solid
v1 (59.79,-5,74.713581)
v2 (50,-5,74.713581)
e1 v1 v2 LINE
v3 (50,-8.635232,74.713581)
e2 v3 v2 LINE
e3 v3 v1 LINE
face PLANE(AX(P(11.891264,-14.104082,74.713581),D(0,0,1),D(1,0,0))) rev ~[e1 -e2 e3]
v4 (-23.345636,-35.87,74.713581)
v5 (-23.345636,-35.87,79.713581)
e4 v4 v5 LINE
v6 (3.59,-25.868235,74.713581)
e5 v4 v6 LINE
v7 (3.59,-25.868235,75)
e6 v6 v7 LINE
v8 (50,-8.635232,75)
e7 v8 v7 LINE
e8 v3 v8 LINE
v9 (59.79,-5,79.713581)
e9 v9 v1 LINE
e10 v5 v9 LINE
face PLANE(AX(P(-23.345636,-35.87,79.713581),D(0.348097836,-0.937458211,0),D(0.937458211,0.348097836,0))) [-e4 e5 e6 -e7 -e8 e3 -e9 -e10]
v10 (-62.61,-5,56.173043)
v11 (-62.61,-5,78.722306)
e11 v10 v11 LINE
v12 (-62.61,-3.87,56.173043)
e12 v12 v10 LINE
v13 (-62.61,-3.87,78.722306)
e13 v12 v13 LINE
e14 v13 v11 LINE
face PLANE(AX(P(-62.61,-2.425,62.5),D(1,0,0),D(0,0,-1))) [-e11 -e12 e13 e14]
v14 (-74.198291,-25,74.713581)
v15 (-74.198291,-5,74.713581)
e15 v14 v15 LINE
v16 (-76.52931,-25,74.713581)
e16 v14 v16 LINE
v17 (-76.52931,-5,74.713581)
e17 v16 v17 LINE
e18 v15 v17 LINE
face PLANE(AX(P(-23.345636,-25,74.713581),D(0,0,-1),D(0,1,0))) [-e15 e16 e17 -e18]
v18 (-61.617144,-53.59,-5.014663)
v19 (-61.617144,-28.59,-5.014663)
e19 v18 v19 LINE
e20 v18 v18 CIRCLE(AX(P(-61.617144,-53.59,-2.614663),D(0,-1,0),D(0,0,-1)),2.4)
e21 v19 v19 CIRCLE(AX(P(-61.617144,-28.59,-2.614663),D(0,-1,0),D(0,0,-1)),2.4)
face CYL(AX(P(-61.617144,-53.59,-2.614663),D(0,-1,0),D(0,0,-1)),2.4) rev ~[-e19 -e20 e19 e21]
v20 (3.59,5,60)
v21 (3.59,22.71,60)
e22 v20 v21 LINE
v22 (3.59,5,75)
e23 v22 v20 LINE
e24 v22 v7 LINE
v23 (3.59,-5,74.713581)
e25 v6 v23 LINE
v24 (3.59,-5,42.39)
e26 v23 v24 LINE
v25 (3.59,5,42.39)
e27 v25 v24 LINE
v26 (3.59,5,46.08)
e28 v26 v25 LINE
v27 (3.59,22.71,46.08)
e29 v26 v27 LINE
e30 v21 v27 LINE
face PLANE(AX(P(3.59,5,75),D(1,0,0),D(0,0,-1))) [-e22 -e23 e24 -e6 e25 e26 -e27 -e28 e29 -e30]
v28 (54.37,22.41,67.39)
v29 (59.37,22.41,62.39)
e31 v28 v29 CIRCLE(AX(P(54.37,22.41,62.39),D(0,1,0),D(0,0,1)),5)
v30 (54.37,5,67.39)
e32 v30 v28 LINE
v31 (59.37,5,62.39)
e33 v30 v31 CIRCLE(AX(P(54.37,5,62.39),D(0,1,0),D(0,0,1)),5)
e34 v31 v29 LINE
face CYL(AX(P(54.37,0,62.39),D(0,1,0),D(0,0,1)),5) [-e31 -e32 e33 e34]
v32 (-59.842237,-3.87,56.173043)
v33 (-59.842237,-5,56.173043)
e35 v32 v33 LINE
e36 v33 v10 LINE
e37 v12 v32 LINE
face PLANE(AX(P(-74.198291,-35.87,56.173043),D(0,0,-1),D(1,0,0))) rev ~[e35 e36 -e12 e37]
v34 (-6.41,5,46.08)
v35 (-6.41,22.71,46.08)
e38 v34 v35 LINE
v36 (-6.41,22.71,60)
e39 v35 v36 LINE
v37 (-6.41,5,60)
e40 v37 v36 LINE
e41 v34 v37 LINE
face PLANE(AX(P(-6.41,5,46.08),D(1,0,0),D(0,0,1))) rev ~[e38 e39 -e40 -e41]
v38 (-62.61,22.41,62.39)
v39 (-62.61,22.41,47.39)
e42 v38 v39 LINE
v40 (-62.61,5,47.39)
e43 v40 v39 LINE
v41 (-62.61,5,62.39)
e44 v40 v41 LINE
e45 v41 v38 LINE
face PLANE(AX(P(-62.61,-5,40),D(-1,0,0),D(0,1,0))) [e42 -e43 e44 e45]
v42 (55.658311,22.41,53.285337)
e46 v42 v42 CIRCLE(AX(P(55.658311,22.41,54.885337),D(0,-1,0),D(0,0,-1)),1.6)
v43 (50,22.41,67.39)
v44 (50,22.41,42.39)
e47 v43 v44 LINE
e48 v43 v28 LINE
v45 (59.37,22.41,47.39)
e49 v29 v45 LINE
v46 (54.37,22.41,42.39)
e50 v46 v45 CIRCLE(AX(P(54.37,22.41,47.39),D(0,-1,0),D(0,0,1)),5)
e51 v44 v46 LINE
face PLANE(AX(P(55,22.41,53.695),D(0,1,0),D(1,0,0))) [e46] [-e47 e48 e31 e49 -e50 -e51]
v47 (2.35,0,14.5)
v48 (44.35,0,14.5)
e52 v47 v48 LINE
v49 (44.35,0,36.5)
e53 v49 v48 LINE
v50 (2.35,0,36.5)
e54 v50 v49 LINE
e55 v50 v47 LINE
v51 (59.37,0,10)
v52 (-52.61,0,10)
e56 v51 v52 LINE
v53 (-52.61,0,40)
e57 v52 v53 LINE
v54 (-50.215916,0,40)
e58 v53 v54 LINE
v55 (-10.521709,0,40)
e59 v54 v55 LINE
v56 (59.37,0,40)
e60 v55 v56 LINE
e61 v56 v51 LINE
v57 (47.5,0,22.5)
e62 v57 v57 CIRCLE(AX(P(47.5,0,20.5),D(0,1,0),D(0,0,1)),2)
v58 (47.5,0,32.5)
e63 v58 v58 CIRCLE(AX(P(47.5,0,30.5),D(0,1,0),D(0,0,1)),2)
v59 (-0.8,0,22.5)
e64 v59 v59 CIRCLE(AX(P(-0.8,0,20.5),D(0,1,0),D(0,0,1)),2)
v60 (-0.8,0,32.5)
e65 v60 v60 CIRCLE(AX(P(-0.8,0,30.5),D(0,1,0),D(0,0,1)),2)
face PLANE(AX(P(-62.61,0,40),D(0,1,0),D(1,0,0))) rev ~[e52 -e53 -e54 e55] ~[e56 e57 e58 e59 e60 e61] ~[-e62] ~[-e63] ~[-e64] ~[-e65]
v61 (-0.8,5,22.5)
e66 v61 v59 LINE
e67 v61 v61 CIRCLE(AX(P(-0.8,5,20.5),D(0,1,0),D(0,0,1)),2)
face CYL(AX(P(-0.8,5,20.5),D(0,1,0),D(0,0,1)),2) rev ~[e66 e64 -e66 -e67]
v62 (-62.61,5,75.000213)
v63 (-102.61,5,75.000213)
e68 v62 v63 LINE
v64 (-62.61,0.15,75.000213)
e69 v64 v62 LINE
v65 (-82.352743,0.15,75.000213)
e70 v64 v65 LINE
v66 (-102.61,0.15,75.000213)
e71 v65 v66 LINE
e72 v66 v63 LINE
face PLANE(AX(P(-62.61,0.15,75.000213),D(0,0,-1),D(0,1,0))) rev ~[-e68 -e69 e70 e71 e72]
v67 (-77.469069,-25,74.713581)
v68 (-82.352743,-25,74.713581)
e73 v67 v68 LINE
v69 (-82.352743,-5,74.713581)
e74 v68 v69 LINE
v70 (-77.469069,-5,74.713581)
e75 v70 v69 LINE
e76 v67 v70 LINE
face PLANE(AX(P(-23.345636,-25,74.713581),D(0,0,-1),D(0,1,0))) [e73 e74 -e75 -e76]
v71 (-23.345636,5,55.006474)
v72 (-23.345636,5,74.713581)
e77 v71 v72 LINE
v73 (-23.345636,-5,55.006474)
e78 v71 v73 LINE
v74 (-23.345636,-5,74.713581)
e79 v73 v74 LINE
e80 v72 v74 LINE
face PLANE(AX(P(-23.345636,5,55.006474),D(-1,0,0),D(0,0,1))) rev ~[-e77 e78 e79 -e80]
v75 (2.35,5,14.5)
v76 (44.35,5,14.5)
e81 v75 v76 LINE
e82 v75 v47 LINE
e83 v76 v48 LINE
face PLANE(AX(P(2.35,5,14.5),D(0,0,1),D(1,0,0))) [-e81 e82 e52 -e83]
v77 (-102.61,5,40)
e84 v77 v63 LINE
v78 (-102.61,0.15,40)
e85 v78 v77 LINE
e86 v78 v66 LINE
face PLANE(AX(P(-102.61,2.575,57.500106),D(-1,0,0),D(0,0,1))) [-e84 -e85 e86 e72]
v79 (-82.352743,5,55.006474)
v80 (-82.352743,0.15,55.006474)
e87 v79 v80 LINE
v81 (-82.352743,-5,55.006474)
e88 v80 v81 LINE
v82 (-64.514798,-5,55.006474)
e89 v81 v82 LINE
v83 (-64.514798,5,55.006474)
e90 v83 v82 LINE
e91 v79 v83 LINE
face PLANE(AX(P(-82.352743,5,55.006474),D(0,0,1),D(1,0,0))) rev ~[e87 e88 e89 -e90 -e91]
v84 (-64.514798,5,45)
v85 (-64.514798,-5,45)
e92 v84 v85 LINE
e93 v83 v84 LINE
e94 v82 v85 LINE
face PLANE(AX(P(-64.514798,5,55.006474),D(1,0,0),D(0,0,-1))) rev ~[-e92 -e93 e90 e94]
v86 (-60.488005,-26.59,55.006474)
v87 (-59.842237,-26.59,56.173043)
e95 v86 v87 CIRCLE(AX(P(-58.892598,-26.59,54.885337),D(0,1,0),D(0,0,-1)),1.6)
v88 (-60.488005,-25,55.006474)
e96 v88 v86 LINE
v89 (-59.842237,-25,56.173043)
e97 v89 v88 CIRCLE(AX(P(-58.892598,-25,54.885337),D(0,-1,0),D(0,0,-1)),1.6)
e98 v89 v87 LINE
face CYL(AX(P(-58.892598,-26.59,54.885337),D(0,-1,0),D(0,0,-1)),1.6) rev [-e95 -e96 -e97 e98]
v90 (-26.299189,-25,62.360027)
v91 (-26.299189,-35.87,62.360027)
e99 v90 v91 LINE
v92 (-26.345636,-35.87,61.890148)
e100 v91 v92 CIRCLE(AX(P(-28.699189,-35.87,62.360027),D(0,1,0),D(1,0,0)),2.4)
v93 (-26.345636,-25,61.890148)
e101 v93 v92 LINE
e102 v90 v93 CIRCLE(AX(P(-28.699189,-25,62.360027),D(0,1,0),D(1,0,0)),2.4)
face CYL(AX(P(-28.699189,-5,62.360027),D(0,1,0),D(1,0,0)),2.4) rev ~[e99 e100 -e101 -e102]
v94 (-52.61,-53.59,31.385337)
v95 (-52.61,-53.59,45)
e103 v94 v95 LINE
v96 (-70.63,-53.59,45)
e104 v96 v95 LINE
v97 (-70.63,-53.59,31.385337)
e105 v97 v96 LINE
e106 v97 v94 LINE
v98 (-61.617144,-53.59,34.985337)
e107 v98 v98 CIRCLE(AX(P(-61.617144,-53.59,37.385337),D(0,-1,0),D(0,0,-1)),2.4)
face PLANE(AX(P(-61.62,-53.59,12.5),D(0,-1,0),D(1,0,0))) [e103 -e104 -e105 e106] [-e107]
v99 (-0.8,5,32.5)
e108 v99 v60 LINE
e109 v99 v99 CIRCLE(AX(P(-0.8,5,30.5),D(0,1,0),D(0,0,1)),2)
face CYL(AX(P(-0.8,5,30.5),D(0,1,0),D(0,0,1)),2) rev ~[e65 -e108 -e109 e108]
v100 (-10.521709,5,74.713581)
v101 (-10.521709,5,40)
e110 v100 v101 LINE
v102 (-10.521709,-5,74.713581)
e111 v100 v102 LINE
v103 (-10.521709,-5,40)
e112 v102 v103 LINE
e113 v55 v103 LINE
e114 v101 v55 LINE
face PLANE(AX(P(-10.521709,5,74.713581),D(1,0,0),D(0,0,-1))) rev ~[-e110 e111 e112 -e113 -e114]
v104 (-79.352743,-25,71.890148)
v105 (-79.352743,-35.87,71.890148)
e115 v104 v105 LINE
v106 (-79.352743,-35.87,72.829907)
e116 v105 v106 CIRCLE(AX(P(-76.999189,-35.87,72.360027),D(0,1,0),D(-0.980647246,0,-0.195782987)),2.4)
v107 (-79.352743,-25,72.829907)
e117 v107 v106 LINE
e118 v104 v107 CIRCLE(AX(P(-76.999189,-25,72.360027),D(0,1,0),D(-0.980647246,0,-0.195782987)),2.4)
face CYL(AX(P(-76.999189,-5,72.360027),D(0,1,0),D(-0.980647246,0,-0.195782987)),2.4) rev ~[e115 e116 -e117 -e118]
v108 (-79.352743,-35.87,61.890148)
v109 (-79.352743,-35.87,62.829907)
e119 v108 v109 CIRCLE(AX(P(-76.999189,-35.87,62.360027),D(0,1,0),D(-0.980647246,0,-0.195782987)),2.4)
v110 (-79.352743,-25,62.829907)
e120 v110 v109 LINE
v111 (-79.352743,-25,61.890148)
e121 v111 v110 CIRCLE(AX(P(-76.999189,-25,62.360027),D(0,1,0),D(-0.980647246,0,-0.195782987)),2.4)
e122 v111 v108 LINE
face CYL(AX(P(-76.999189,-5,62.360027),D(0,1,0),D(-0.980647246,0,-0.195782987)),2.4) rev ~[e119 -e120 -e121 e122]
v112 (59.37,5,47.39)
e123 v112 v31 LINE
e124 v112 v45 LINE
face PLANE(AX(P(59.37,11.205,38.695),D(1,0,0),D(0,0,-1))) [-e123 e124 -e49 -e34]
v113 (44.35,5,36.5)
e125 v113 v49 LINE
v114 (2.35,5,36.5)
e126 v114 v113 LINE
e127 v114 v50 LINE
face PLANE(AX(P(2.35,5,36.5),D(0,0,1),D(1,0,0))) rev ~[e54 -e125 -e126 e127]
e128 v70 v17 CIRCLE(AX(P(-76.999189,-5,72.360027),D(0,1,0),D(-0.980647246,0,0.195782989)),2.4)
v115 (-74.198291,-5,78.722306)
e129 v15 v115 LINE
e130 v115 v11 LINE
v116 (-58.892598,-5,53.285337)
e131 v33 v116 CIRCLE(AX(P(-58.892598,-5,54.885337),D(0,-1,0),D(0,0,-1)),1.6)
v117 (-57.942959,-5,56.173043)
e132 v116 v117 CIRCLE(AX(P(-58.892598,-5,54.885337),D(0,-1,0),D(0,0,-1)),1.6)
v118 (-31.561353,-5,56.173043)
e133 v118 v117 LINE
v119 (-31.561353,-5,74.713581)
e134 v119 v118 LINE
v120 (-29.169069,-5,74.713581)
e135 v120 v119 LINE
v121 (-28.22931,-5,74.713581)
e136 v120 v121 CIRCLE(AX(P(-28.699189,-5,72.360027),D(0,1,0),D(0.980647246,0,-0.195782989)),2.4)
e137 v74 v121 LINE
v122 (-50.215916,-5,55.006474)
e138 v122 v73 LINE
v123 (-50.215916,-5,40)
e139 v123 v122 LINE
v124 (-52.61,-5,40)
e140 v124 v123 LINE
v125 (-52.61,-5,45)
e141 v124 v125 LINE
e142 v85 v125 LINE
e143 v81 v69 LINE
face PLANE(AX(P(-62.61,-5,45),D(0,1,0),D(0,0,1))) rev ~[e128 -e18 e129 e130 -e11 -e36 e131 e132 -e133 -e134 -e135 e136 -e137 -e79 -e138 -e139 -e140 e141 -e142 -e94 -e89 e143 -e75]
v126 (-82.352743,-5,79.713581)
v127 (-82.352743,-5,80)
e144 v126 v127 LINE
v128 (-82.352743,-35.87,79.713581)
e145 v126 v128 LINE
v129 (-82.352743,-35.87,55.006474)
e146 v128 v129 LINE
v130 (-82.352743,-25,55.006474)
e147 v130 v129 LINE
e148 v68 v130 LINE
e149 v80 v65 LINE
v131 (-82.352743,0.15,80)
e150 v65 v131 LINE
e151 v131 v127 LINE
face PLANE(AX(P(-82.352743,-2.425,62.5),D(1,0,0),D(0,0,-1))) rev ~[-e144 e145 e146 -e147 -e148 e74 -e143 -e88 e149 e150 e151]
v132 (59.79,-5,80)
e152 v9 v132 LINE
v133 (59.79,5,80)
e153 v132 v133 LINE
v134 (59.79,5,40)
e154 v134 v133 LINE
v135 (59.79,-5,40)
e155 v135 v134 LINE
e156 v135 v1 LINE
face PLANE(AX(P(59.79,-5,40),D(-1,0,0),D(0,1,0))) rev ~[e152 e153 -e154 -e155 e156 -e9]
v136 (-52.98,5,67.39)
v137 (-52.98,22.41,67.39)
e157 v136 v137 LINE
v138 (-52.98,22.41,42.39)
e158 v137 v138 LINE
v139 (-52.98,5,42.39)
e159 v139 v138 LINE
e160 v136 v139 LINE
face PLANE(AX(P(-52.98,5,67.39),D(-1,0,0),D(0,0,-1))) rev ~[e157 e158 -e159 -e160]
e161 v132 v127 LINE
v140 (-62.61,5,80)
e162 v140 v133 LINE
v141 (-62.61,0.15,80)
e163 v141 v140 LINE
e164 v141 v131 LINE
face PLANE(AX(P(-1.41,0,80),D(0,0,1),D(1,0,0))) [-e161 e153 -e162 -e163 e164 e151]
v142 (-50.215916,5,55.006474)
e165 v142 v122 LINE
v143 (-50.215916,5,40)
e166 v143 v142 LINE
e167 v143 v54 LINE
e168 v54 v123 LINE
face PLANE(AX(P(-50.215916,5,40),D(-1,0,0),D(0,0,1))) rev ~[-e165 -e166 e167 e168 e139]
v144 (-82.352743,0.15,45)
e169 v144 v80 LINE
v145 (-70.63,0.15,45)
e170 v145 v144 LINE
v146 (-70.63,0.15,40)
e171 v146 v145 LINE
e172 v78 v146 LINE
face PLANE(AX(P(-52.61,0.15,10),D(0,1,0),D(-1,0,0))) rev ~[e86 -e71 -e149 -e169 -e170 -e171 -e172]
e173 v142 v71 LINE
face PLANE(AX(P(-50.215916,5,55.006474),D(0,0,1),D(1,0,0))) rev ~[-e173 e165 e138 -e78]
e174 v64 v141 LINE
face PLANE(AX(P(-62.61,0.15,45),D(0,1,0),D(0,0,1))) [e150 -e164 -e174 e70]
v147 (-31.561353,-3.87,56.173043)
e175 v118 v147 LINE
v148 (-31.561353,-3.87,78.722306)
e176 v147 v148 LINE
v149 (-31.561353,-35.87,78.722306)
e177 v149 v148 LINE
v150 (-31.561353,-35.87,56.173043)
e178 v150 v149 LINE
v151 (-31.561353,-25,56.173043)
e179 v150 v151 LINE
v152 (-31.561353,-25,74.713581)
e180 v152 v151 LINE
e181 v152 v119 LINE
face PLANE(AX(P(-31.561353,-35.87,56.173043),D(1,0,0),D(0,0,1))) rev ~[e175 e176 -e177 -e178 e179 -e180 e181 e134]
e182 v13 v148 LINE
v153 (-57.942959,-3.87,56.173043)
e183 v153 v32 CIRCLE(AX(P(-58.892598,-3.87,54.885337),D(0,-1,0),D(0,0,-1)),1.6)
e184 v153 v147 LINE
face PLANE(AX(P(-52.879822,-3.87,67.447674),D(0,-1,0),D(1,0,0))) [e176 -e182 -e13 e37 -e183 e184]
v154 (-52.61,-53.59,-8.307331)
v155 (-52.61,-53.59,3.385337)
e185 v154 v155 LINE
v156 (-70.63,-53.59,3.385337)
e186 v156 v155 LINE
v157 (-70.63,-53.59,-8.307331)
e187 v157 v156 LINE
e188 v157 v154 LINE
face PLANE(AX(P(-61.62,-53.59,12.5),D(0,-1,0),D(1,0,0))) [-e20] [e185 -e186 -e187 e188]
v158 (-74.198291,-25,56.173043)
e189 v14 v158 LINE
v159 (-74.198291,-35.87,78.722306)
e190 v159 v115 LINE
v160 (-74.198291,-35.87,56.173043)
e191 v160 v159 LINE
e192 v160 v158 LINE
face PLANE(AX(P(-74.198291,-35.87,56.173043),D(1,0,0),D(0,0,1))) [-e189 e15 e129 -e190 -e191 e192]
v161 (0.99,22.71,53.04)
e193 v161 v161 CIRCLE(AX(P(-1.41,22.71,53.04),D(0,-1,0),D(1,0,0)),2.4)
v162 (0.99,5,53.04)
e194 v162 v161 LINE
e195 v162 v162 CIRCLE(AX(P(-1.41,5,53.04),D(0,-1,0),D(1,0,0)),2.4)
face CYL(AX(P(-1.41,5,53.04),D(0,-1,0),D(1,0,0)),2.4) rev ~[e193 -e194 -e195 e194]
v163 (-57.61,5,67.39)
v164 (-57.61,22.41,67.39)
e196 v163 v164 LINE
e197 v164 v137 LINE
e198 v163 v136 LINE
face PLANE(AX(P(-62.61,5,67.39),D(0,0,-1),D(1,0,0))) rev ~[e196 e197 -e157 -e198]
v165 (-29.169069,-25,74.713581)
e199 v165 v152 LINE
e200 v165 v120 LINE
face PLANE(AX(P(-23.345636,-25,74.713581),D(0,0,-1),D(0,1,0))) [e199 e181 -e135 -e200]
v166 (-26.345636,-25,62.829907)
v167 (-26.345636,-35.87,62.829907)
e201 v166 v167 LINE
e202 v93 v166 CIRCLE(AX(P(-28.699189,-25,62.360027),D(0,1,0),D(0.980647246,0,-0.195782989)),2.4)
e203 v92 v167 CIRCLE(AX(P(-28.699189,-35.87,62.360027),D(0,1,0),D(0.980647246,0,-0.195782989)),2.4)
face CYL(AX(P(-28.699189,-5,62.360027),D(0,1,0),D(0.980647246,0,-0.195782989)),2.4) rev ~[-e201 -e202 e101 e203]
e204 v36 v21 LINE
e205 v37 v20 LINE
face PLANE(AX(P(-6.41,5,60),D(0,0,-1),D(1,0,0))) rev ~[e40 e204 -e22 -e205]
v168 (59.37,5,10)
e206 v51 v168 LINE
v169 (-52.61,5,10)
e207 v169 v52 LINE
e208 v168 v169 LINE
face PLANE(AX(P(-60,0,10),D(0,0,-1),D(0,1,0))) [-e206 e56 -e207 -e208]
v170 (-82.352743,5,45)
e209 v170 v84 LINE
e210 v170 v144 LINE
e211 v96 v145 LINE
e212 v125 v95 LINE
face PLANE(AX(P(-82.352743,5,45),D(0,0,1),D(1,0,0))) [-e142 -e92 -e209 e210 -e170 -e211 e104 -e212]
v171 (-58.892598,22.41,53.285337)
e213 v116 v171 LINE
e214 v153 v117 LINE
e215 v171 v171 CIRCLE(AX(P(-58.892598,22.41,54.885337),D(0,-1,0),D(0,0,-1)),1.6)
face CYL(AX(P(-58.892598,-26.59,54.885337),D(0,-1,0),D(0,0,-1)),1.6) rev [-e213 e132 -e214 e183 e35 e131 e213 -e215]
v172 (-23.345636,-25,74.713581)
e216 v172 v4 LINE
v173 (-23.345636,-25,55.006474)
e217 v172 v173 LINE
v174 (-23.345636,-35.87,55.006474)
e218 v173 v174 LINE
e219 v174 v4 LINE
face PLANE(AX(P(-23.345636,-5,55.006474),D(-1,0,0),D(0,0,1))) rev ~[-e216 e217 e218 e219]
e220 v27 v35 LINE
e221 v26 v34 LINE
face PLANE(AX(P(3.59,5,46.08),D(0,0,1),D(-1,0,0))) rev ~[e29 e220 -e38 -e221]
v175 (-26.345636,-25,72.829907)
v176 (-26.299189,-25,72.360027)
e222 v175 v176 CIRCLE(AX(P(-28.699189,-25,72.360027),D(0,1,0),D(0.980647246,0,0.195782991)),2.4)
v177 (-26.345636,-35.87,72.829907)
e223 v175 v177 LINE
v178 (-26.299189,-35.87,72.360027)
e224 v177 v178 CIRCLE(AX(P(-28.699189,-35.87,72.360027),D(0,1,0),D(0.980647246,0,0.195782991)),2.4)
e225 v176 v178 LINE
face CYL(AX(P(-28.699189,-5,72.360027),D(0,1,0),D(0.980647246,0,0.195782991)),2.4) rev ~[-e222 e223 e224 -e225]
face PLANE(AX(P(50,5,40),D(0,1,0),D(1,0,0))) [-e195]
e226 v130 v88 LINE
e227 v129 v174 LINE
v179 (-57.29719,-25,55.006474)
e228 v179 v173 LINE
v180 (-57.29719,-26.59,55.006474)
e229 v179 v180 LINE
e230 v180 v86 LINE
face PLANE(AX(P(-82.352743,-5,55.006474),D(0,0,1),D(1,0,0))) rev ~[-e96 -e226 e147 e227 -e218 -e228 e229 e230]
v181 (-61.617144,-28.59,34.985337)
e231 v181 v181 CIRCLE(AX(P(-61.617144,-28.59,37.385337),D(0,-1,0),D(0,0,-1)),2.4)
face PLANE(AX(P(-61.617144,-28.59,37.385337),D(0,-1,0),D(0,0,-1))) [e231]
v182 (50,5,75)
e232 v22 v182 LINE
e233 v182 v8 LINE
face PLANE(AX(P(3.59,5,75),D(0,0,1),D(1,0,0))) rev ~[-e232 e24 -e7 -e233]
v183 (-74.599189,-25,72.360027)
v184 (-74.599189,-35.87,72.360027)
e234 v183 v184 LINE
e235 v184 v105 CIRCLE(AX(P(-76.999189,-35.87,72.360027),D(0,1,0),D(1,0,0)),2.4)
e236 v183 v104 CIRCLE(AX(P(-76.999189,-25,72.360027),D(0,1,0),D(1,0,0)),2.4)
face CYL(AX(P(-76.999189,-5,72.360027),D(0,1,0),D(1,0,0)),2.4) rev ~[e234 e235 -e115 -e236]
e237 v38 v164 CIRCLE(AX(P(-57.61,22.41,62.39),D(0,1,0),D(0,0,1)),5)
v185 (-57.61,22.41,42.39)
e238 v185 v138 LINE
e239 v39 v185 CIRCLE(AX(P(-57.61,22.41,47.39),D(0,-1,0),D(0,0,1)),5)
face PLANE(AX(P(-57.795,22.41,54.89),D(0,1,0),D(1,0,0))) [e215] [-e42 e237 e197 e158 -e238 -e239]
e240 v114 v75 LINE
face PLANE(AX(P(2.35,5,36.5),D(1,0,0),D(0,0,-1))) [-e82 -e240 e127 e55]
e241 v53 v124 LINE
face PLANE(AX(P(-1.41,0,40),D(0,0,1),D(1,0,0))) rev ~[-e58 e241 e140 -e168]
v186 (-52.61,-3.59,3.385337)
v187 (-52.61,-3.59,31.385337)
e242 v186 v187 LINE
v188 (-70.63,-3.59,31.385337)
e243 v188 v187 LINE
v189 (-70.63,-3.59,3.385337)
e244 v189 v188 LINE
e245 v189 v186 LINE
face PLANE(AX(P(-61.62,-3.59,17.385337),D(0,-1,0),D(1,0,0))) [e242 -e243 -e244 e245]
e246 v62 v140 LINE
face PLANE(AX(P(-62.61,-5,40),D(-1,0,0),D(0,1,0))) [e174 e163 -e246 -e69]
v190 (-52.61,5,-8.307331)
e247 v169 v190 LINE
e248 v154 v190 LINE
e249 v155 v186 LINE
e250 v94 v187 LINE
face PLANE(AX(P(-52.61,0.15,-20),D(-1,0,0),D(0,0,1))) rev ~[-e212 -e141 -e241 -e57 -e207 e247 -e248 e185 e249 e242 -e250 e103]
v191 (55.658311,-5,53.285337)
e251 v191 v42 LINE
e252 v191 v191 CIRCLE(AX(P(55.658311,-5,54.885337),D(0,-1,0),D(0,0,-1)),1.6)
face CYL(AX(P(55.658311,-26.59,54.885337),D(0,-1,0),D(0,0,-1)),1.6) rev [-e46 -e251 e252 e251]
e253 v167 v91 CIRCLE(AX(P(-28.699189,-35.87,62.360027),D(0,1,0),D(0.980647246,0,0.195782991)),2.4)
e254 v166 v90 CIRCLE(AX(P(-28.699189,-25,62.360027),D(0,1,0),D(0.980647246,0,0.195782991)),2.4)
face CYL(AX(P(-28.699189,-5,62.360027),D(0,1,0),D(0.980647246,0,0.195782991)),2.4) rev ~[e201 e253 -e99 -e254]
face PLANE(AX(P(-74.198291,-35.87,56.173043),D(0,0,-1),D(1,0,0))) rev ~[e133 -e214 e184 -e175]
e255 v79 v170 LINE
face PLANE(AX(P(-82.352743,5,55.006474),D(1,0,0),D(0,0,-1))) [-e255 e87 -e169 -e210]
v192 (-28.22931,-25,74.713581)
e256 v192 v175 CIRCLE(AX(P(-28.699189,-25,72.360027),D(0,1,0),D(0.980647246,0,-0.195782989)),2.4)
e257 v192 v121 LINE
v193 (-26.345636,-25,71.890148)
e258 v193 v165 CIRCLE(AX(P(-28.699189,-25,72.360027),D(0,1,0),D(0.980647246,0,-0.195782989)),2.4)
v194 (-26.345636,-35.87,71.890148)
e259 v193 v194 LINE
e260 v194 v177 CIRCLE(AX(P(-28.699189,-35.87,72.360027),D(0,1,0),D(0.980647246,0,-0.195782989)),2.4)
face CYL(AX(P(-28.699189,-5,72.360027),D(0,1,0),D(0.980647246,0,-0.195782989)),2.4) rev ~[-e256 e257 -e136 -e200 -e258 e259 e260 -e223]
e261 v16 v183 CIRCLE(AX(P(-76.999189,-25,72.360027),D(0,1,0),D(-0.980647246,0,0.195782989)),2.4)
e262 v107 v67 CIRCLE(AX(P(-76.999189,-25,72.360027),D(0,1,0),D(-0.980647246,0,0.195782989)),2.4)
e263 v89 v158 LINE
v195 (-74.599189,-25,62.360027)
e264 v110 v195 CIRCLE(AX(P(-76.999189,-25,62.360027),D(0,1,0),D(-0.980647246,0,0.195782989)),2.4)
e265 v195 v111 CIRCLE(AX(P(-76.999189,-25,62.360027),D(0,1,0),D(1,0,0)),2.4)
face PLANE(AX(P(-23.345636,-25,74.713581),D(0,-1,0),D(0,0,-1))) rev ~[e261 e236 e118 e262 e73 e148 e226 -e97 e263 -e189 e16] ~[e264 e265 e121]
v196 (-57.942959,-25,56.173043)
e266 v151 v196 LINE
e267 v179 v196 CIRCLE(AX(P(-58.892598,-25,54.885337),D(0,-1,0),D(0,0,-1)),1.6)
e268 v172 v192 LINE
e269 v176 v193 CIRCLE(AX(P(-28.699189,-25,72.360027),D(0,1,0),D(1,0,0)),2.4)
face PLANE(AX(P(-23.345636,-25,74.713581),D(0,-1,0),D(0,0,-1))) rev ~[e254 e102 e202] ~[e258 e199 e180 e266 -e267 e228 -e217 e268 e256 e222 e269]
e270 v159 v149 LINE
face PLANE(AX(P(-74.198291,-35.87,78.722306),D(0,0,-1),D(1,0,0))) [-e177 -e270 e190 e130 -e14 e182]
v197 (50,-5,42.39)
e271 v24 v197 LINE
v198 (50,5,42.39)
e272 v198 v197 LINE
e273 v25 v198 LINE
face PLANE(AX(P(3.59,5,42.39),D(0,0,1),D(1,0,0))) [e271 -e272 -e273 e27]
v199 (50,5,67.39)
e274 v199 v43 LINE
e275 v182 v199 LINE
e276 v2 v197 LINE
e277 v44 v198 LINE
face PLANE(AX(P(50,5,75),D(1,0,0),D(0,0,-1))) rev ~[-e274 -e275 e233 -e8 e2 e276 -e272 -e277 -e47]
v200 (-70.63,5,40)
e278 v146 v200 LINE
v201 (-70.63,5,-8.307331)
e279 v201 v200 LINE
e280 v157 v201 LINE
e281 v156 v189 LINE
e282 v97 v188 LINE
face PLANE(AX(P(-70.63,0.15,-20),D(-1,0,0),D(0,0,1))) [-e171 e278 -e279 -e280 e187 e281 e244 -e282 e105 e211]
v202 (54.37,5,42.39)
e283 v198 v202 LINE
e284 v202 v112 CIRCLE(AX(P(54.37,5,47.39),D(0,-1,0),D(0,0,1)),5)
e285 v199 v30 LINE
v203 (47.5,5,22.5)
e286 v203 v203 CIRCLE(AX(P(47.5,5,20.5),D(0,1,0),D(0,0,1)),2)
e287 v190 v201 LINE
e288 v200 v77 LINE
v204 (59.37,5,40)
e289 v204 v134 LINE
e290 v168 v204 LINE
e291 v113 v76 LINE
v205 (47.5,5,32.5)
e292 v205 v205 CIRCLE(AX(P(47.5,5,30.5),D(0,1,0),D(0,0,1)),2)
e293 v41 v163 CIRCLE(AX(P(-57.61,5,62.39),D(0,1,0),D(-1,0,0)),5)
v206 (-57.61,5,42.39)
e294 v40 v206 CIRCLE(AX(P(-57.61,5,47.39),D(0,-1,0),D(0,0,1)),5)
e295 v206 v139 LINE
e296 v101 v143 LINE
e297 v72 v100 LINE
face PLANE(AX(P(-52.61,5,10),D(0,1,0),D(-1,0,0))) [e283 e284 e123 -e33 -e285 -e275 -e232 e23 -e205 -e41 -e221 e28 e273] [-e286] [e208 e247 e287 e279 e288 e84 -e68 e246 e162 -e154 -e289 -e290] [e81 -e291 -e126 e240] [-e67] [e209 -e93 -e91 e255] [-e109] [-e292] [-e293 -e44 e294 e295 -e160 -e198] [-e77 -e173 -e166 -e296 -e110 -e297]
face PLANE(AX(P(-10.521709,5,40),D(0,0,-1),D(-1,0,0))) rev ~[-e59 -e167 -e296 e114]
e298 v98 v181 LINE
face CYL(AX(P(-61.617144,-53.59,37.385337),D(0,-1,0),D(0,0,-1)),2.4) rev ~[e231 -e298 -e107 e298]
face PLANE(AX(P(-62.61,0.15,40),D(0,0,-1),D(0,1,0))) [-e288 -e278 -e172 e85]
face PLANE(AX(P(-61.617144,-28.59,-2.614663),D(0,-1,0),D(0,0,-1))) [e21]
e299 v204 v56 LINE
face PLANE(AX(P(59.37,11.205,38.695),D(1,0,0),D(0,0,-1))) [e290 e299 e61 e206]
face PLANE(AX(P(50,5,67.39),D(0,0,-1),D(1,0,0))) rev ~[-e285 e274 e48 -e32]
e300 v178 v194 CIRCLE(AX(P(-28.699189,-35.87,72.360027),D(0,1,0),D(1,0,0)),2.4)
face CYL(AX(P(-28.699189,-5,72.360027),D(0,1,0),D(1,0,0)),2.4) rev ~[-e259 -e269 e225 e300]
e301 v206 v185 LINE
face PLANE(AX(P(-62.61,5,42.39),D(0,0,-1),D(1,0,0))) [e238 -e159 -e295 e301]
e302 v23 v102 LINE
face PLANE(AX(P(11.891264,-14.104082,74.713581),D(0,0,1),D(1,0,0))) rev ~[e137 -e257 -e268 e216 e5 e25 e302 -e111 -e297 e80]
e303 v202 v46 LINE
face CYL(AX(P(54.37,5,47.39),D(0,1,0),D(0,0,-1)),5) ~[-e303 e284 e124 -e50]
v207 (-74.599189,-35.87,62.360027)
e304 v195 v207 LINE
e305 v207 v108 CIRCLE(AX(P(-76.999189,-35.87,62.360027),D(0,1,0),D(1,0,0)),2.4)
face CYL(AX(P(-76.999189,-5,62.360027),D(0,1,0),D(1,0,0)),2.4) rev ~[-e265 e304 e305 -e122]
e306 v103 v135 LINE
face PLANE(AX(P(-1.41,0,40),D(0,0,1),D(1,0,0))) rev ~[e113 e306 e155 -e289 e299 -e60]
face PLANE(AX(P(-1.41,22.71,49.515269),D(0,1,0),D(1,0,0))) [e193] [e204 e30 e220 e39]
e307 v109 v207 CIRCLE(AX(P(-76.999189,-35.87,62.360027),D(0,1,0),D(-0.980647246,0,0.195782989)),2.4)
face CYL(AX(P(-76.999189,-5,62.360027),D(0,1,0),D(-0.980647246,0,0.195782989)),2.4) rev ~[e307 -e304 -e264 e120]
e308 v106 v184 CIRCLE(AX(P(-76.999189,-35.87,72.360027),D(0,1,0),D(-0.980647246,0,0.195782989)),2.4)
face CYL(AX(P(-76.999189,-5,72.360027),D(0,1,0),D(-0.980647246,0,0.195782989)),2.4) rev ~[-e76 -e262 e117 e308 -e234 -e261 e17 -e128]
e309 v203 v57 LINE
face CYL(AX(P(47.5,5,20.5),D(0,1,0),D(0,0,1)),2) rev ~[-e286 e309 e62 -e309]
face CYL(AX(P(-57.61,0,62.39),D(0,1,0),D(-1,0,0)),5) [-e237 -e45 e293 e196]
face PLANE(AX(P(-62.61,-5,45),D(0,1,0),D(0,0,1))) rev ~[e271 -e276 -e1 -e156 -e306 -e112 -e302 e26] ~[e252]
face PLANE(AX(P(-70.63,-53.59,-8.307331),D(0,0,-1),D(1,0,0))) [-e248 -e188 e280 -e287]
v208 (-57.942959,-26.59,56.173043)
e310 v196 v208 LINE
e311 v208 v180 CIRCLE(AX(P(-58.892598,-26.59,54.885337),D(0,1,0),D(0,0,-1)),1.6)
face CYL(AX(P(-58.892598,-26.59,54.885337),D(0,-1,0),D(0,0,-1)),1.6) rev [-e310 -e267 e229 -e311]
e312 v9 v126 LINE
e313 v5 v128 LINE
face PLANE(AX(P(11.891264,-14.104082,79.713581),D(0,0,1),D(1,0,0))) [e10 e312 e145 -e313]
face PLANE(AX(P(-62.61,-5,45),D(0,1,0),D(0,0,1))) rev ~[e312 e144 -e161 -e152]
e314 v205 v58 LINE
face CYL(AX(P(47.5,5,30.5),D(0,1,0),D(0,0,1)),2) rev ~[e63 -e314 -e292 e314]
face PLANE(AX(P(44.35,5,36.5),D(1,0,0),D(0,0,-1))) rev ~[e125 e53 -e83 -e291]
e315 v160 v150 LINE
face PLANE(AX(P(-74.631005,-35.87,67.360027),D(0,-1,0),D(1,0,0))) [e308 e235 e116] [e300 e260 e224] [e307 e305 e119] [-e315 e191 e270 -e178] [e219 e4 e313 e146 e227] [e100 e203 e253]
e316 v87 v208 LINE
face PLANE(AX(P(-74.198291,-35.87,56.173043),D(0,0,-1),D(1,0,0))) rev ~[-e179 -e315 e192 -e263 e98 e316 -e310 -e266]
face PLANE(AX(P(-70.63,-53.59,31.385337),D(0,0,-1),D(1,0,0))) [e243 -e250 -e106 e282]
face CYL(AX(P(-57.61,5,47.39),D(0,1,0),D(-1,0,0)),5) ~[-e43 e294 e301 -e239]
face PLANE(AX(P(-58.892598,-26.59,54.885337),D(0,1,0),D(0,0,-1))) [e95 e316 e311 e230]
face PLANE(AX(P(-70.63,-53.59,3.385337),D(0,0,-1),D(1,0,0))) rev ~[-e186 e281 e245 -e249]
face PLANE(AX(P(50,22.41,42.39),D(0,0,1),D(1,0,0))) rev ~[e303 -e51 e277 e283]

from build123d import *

# Parameters (mm, degrees)
SKETCH1_W            = 120
SKETCH1_H            = 80
BOSS_EXTRUDE1_DEPTH  = 5
SKETCH2_R            = 2.000000001
CUT_EXTRUDE2_DEPTH   = 5
SKETCH3_W            = 90
SKETCH3_H            = 50
CUT_EXTRUDE3_DEPTH   = 5
SKETCH4_W            = 10
SKETCH4_H            = 5
BOSS_EXTRUDE2_DEPTH  = 27.39
SKETCH5_W            = 10
SKETCH5_H            = 5
BOSS_EXTRUDE3_DEPTH  = 20
BOSS_EXTRUDE4_DEPTH  = 17.71
SKETCH7_W            = 10
SKETCH7_H            = 27.39
BOSS_EXTRUDE5_DEPTH  = 17.41
SKETCH8_W            = 10
SKETCH8_H            = 2.39
CUT_EXTRUDE4_DEPTH   = 17.41
SKETCH9_W            = 57.39
SKETCH9_H            = 22.41
CUT_EXTRUDE5_DEPTH   = 0.63
FILLET1_R            = 5
SKETCH10_R           = 1.600000001
CUT_EXTRUDE6_DEPTH   = 94.043840204
SKETCH11_W           = 30
SKETCH11_H           = 5
BOSS_EXTRUDE6_DEPTH  = 2.61
SKETCH12_W           = 9.63
SKETCH12_H           = 5
BOSS_EXTRUDE7_DEPTH  = 27.39
SKETCH13_W           = 9.63
SKETCH13_H           = 25
BOSS_EXTRUDE8_DEPTH  = 17.41
FILLET2_R            = 5
SKETCH14_R           = 1.6
CUT_EXTRUDE7_DEPTH   = 95.747919766
SKETCH15_W           = 122.4
SKETCH15_H           = 10
BOSS_EXTRUDE9_DEPTH  = 40
SKETCH16_W           = 30
SKETCH16_H           = 50
CUT_EXTRUDE8_DEPTH   = 104.119620829
SKETCH17_W           = 35.000212548
SKETCH17_H           = 4.85
BOSS_EXTRUDE10_DEPTH = 40
SKETCH18_W           = 20
SKETCH18_H           = 4.85
BOSS_EXTRUDE11_DEPTH = 60
SKETCH19_W           = 10
SKETCH19_H           = 4.85
BOSS_EXTRUDE12_DEPTH = 30
SKETCH20_W           = 18.02
SKETCH20_H           = 65
BOSS_EXTRUDE13_DEPTH = 53.74
SKETCH21_R           = 2.4
CUT_EXTRUDE9_DEPTH   = 25
BOSS_EXTRUDE14_DEPTH = 30.87
SKETCH28_W           = 42.63693761
SKETCH28_H           = 22.549263077
CUT_EXTRUDE11_DEPTH  = 32
SKETCH29_W           = 11.98
SKETCH29_H           = 4.85
CUT_EXTRUDE12_DEPTH  = 60
BOSS_EXTRUDE15_DEPTH = 19.742742811
BOSS_EXTRUDE16_DEPTH = 5
SKETCH32_W           = 42
SKETCH32_H           = 22
CUT_EXTRUDE13_DEPTH  = 25
SKETCH33_W           = 18.02
SKETCH33_H           = 28
CUT_EXTRUDE14_DEPTH  = 50
SKETCH34_W           = 18.02
SKETCH34_H           = 11.692668542
CUT_EXTRUDE15_DEPTH  = 60
SKETCH35_W           = 19.707106781
SKETCH35_H           = 20
CUT_EXTRUDE16_DEPTH  = 60
SKETCH36_W           = 46.41
SKETCH36_H           = 32.61
CUT_EXTRUDE18_DEPTH  = 60
SKETCH38_W           = 17.837944425
SKETCH38_H           = 10.006474067
CUT_EXTRUDE20_DEPTH  = 49
CUT_EXTRUDE21_START  = -49
SKETCH39_R           = 1.6
SKETCH39_R_2         = 1.600000001
CUT_EXTRUDE21_DEPTH  = 49


with BuildPart() as part:
    # Sketch1 → Boss-Extrude1 (new body)
    with BuildSketch(Plane(origin=(0, 0, 0), x_dir=(1, 0, 0), z_dir=(0, 1, 0))):
        Rectangle(SKETCH1_W, SKETCH1_H)
    extrude(amount=BOSS_EXTRUDE1_DEPTH)

    # Sketch2 → Cut-Extrude2 (cut)
    with BuildSketch(Plane(origin=(0, 5, 0), x_dir=(1, 0, 0), z_dir=(0, 1, 0))):
        with Locations(Location((47.5, -20.500000004, 0), (0, 0, 270))):
            Circle(SKETCH2_R)
        with Locations(Location((47.5, -30.500000004, 0), (0, 0, 270))):
            Circle(SKETCH2_R)
        with Locations(Location((-0.8, -30.500000004, 0), (0, 0, 270))):
            Circle(SKETCH2_R)
        with Locations(Location((-0.8, -20.500000004, 0), (0, 0, 270))):
            Circle(SKETCH2_R)
    extrude(amount=-CUT_EXTRUDE2_DEPTH, mode=Mode.SUBTRACT)

    # Sketch3 → Cut-Extrude3 (cut)
    with BuildSketch(Plane(origin=(0, 5, 0), x_dir=(1, 0, 0), z_dir=(0, 1, 0))):
        with Locations((15, 15)):
            Rectangle(SKETCH3_W, SKETCH3_H)
    extrude(amount=-CUT_EXTRUDE3_DEPTH, mode=Mode.SUBTRACT)

    # Sketch4 → Boss-Extrude2 (add)
    with BuildSketch(Plane.XY.offset(40)):
        with Locations((55, 2.5)):
            Rectangle(SKETCH4_W, SKETCH4_H)
    extrude(amount=BOSS_EXTRUDE2_DEPTH)

    # Sketch5 → Boss-Extrude3 (add)
    with BuildSketch(Plane.XY.offset(40)):
        with Locations((-1.41, 2.5)):
            Rectangle(SKETCH5_W, SKETCH5_H)
    extrude(amount=BOSS_EXTRUDE3_DEPTH)

    # Sketch6 → Boss-Extrude4 (add)
    with BuildSketch(Plane(origin=(0, 5, 0), x_dir=(1, 0, 0), z_dir=(0, 1, 0))):
        with BuildLine():
            ThreePointArc((-3.81, -53.04), (-1.41, -50.64), (0.99, -53.04))
            Line((0.99, -53.04), (3.59, -53.04))
            Line((3.59, -53.04), (3.59, -46.08))
            Line((3.59, -46.08), (-6.41, -46.08))
            Line((-6.41, -46.08), (-6.41, -53.04))
            Line((-6.41, -53.04), (-3.81, -53.04))
        make_face()
        with BuildLine():
            Line((3.59, -53.04), (0.99, -53.04))
            ThreePointArc((0.99, -53.04), (-1.41, -55.44), (-3.81, -53.04))
            Line((-3.81, -53.04), (-6.41, -53.04))
            Line((-6.41, -53.04), (-6.41, -60))
            Line((-6.41, -60), (3.59, -60))
            Line((3.59, -60), (3.59, -53.04))
        make_face()
    extrude(amount=BOSS_EXTRUDE4_DEPTH)

    # Sketch7 → Boss-Extrude5 (add)
    with BuildSketch(Plane(origin=(0, 5, 0), x_dir=(1, 0, 0), z_dir=(0, 1, 0))):
        with Locations((55, -53.695)):
            Rectangle(SKETCH7_W, SKETCH7_H)
    extrude(amount=BOSS_EXTRUDE5_DEPTH)

    # Sketch8 → Cut-Extrude4 (cut)
    with BuildSketch(Plane(origin=(0, 22.41, 0), x_dir=(1, 0, 0), z_dir=(0, 1, 0))):
        with Locations((55, -41.195)):
            Rectangle(SKETCH8_W, SKETCH8_H)
    extrude(amount=-CUT_EXTRUDE4_DEPTH, mode=Mode.SUBTRACT)

    # Sketch9 → Cut-Extrude5 (cut)
    with BuildSketch(Plane(origin=(60, 0, 0), x_dir=(0, 0, -1), z_dir=(1, 0, 0))):
        with Locations((-38.695, 11.205)):
            Rectangle(SKETCH9_W, SKETCH9_H)
    extrude(amount=-CUT_EXTRUDE5_DEPTH, mode=Mode.SUBTRACT)

    # Fillet1
    fillet1_edges = [part.edges().sort_by_distance(p)[0] for p in [
        (59.37, 13.705, 42.39),
        (59.37, 11.205, 67.39),
    ]]
    fillet(fillet1_edges, radius=FILLET1_R)

    # Sketch10 → Cut-Extrude6 (cut, through all)
    with BuildSketch(Plane.XZ):
        with Locations(Location((55.658310639, 54.885337085, 0), (0, 0, 270))):
            Circle(SKETCH10_R)
    extrude(amount=-CUT_EXTRUDE6_DEPTH, mode=Mode.SUBTRACT)

    # Sketch11 → Boss-Extrude6 (add)
    with BuildSketch(Plane.ZY.offset(60)):
        with Locations((25, 2.5)):
            Rectangle(SKETCH11_W, SKETCH11_H)
    extrude(amount=BOSS_EXTRUDE6_DEPTH)

    # Sketch12 → Boss-Extrude7 (add)
    with BuildSketch(Plane.XY.offset(40)):
        with Locations((-57.795, 2.5)):
            Rectangle(SKETCH12_W, SKETCH12_H)
    extrude(amount=BOSS_EXTRUDE7_DEPTH)

    # Sketch13 → Boss-Extrude8 (add)
    with BuildSketch(Plane(origin=(0, 5, 0), x_dir=(1, 0, 0), z_dir=(0, 1, 0))):
        with Locations((-57.795, -54.89)):
            Rectangle(SKETCH13_W, SKETCH13_H)
    extrude(amount=BOSS_EXTRUDE8_DEPTH)

    # Fillet2
    fillet2_edges = [part.edges().sort_by_distance(p)[0] for p in [
        (-62.61, 11.205, 67.39),
        (-62.61, 13.705, 42.39),
    ]]
    fillet(fillet2_edges, radius=FILLET2_R)

    # Sketch14 → Cut-Extrude7 (cut, through all)
    with BuildSketch(Plane(origin=(0, 0, 0), x_dir=(-1, 0, 0), z_dir=(0, -1, 0))):
        with Locations(Location((58.892597711, -54.885337085, 0), (0, 0, 90))):
            Circle(SKETCH14_R)
    extrude(amount=-CUT_EXTRUDE7_DEPTH, mode=Mode.SUBTRACT)

    # Sketch15 → Boss-Extrude9 (add)
    with BuildSketch(Plane.XY.offset(40)):
        with Locations((-1.41, 0)):
            Rectangle(SKETCH15_W, SKETCH15_H)
    extrude(amount=BOSS_EXTRUDE9_DEPTH)

    # Sketch16 → Cut-Extrude8 (cut, through all)
    with BuildSketch(Plane(origin=(0, 5, 0), x_dir=(1, 0, 0), z_dir=(0, 1, 0))):
        with Locations((-45, 15)):
            Rectangle(SKETCH16_W, SKETCH16_H)
    extrude(amount=-CUT_EXTRUDE8_DEPTH, mode=Mode.SUBTRACT)

    # Sketch17 → Boss-Extrude10 (add)
    with BuildSketch(Plane.ZY.offset(62.61)):
        with Locations((57.500106274, 2.575)):
            Rectangle(SKETCH17_W, SKETCH17_H)
    extrude(amount=BOSS_EXTRUDE10_DEPTH)

    # Sketch18 → Boss-Extrude11 (add)
    with BuildSketch(Plane(origin=(0, 0, 40), x_dir=(-1, 0, 0), z_dir=(0, 0, -1))):
        with Locations((72.61, 2.575)):
            Rectangle(SKETCH18_W, SKETCH18_H)
    extrude(amount=BOSS_EXTRUDE11_DEPTH)

    # Sketch19 → Boss-Extrude12 (add)
    with BuildSketch(Plane(origin=(0, 0, 10), x_dir=(-1, 0, 0), z_dir=(0, 0, -1))):
        with Locations((57.61, 2.575)):
            Rectangle(SKETCH19_W, SKETCH19_H)
    extrude(amount=BOSS_EXTRUDE12_DEPTH)

    # Sketch20 → Boss-Extrude13 (add)
    with BuildSketch(Plane.XZ.offset(-0.15)):
        with Locations((-61.62, 12.5)):
            Rectangle(SKETCH20_W, SKETCH20_H)
    extrude(amount=BOSS_EXTRUDE13_DEPTH)

    # Sketch21 → Cut-Extrude9 (cut)
    with BuildSketch(Plane.XZ.offset(53.59)):
        with Locations(Location((-61.617143537, 37.385337084, 0), (0, 0, 270))):
            Circle(SKETCH21_R)
        with Locations(Location((-61.617143537, -2.614662916, 0), (0, 0, 270))):
            Circle(SKETCH21_R)
    extrude(amount=-CUT_EXTRUDE9_DEPTH, mode=Mode.SUBTRACT)

    # Sketch25 → Boss-Extrude14 (add)
    with BuildSketch(Plane.XZ.offset(5)):
        with BuildLine():
            Line((-62.61, 76.713580848), (-62.61, 79.713580848))
            Line((-62.61, 79.713580848), (-82.352742811, 79.713580848))
            Line((-82.352742811, 79.713580848), (-82.352742811, 55.006474067))
            Line((-82.352742811, 55.006474067), (-62.61, 55.006474067))
            Line((-62.61, 55.006474067), (-62.61, 58.006474067))
            Line((-62.61, 58.006474067), (-79.352742811, 58.006474067))
            Line((-79.352742811, 58.006474067), (-79.352742811, 61.890148284))
            ThreePointArc((-79.352742811, 61.890148284), (-79.39918942, 62.360027458), (-79.352742811, 62.829906631))
            Line((-79.352742811, 62.829906631), (-79.352742811, 71.890148284))
            ThreePointArc((-79.352742811, 71.890148284), (-79.39918942, 72.360027458), (-79.352742811, 72.829906631))
            Line((-79.352742811, 72.829906631), (-79.352742811, 76.713580848))
            Line((-79.352742811, 76.713580848), (-62.61, 76.713580848))
        make_face()
        with BuildLine():
            Line((-23.34563603, 55.006474067), (-23.34563603, 79.713580848))
            Line((-23.34563603, 79.713580848), (-62.61, 79.713580848))
            Line((-62.61, 79.713580848), (-62.61, 76.713580848))
            Line((-62.61, 76.713580848), (-26.34563603, 76.713580848))
            Line((-26.34563603, 76.713580848), (-26.34563603, 72.829906631))
            ThreePointArc((-26.34563603, 72.829906631), (-26.310829299, 72.596112043), (-26.29918942, 72.360027458))
            ThreePointArc((-26.29918942, 72.360027458), (-26.310829299, 72.123942872), (-26.34563603, 71.890148284))
            Line((-26.34563603, 71.890148284), (-26.34563603, 62.829906631))
            ThreePointArc((-26.34563603, 62.829906631), (-26.310829299, 62.596112043), (-26.29918942, 62.360027458))
            ThreePointArc((-26.29918942, 62.360027458), (-26.310829299, 62.123942872), (-26.34563603, 61.890148284))
            Line((-26.34563603, 61.890148284), (-26.34563603, 58.006474067))
            Line((-26.34563603, 58.006474067), (-62.61, 58.006474067))
            Line((-62.61, 58.006474067), (-62.61, 55.006474067))
            Line((-62.61, 55.006474067), (-23.34563603, 55.006474067))
        make_face()
        with BuildLine():
            Line((-26.34563603, 76.713580848), (-62.61, 76.713580848))
            Line((-62.61, 76.713580848), (-62.61, 58.006474067))
            Line((-62.61, 58.006474067), (-26.34563603, 58.006474067))
            Line((-26.34563603, 58.006474067), (-26.34563603, 61.890148284))
            ThreePointArc((-26.34563603, 61.890148284), (-31.09918942, 62.360027458), (-26.34563603, 62.829906631))
            Line((-26.34563603, 62.829906631), (-26.34563603, 71.890148284))
            ThreePointArc((-26.34563603, 71.890148284), (-31.09918942, 72.360027458), (-26.34563603, 72.829906631))
            Line((-26.34563603, 72.829906631), (-26.34563603, 76.713580848))
        make_face()
        with BuildLine():
            Line((-62.61, 58.006474067), (-62.61, 76.713580848))
            Line((-62.61, 76.713580848), (-79.352742811, 76.713580848))
            Line((-79.352742811, 76.713580848), (-79.352742811, 72.829906631))
            ThreePointArc((-79.352742811, 72.829906631), (-76.763104835, 74.748387579), (-74.59918942, 72.360027458))
            ThreePointArc((-74.59918942, 72.360027458), (-76.763104835, 69.971667336), (-79.352742811, 71.890148284))
            Line((-79.352742811, 71.890148284), (-79.352742811, 62.829906631))
            ThreePointArc((-79.352742811, 62.829906631), (-76.763104835, 64.748387579), (-74.59918942, 62.360027458))
            ThreePointArc((-74.59918942, 62.360027458), (-76.763104835, 59.971667336), (-79.352742811, 61.890148284))
            Line((-79.352742811, 61.890148284), (-79.352742811, 58.006474067))
            Line((-79.352742811, 58.006474067), (-62.61, 58.006474067))
        make_face()
    extrude(amount=BOSS_EXTRUDE14_DEPTH)

    # Sketch28 → Cut-Extrude11 (cut)
    with BuildSketch(Plane.XZ.offset(35.87)):
        with Locations((-52.879821914, 67.447674241)):
            Rectangle(SKETCH28_W, SKETCH28_H)
    extrude(amount=-CUT_EXTRUDE11_DEPTH, mode=Mode.SUBTRACT)

    # Sketch29 → Cut-Extrude12 (cut)
    with BuildSketch(Plane(origin=(0, 0, -20), x_dir=(-1, 0, 0), z_dir=(0, 0, -1))):
        with Locations((76.62, 2.575)):
            Rectangle(SKETCH29_W, SKETCH29_H)
    extrude(amount=-CUT_EXTRUDE12_DEPTH, mode=Mode.SUBTRACT)

    # Sketch30 → Boss-Extrude15 (add)
    with BuildSketch(Plane.ZY.offset(62.61)):
        Polygon((56.173042703, -5), (45, -5), (45, 0.15), (80, 0.15), (80, -5), (78.72230578, -5), align=None)
    extrude(amount=BOSS_EXTRUDE15_DEPTH)

    # Sketch31 → Boss-Extrude16 (add)
    with BuildSketch(Plane.XY.offset(79.713580848)):
        Polygon((-23.34563603, -35.87), (59.79, -5), (-23.34563603, -5), align=None)
    extrude(amount=-BOSS_EXTRUDE16_DEPTH)

    # Sketch32 → Cut-Extrude13 (cut)
    with BuildSketch(Plane(origin=(0, 5, 0), x_dir=(1, 0, 0), z_dir=(0, 1, 0))):
        with Locations((23.35, -25.500000004)):
            Rectangle(SKETCH32_W, SKETCH32_H)
    extrude(amount=-CUT_EXTRUDE13_DEPTH, mode=Mode.SUBTRACT)

    # Sketch33 → Cut-Extrude14 (cut)
    with BuildSketch(Plane.XZ.offset(53.59)):
        with Locations((-61.62, 17.385337084)):
            Rectangle(SKETCH33_W, SKETCH33_H)
    extrude(amount=-CUT_EXTRUDE14_DEPTH, mode=Mode.SUBTRACT)

    # Sketch34 → Cut-Extrude15 (cut)
    with BuildSketch(Plane.XZ.offset(53.59)):
        with Locations((-61.62, -14.153665729)):
            Rectangle(SKETCH34_W, SKETCH34_H)
    extrude(amount=-CUT_EXTRUDE15_DEPTH, mode=Mode.SUBTRACT)

    # Sketch35 → Cut-Extrude16 (cut)
    with BuildSketch(Plane(origin=(-23.34563603, 0, 0), x_dir=(0, 0, -1), z_dir=(1, 0, 0))):
        with Locations((-64.860027458, -15)):
            Rectangle(SKETCH35_W, SKETCH35_H)
    extrude(amount=-CUT_EXTRUDE16_DEPTH, mode=Mode.SUBTRACT)

    # Sketch36 → Cut-Extrude18 (cut)
    with BuildSketch(Plane(origin=(0, 5, 0), x_dir=(1, 0, 0), z_dir=(0, 1, 0))):
        with Locations((26.795, -58.695)):
            Rectangle(SKETCH36_W, SKETCH36_H)
    extrude(amount=-CUT_EXTRUDE18_DEPTH, mode=Mode.SUBTRACT)

    # Sketch38 → Cut-Extrude20 (cut)
    with BuildSketch(Plane(origin=(0, 5, 0), x_dir=(1, 0, 0), z_dir=(0, 1, 0))):
        with Locations((-73.433770599, -50.003237033)):
            Rectangle(SKETCH38_W, SKETCH38_H)
        Polygon((-50.215916204, -40), (-50.215916204, -55.006474067), (-23.34563603, -55.006474067), (-23.34563603, -74.713580848), (-10.521709133, -74.713580848), (-10.521709133, -40), align=None)
    extrude(amount=-CUT_EXTRUDE20_DEPTH, mode=Mode.SUBTRACT)

    # Sketch39 → Cut-Extrude21 (cut)
    with BuildSketch(Plane(origin=(0, 22.41, 0), x_dir=(1, 0, 0), z_dir=(0, 1, 0)).offset(CUT_EXTRUDE21_START)):
        with Locations(Location((-58.892597711, -54.885337085, 0), (0, 0, 90))):
            Circle(SKETCH39_R)
        with Locations(Location((55.658310639, -54.885337085, 0), (0, 0, 90))):
            Circle(SKETCH39_R_2)
    extrude(amount=CUT_EXTRUDE21_DEPTH, mode=Mode.SUBTRACT)


solid = part.part
